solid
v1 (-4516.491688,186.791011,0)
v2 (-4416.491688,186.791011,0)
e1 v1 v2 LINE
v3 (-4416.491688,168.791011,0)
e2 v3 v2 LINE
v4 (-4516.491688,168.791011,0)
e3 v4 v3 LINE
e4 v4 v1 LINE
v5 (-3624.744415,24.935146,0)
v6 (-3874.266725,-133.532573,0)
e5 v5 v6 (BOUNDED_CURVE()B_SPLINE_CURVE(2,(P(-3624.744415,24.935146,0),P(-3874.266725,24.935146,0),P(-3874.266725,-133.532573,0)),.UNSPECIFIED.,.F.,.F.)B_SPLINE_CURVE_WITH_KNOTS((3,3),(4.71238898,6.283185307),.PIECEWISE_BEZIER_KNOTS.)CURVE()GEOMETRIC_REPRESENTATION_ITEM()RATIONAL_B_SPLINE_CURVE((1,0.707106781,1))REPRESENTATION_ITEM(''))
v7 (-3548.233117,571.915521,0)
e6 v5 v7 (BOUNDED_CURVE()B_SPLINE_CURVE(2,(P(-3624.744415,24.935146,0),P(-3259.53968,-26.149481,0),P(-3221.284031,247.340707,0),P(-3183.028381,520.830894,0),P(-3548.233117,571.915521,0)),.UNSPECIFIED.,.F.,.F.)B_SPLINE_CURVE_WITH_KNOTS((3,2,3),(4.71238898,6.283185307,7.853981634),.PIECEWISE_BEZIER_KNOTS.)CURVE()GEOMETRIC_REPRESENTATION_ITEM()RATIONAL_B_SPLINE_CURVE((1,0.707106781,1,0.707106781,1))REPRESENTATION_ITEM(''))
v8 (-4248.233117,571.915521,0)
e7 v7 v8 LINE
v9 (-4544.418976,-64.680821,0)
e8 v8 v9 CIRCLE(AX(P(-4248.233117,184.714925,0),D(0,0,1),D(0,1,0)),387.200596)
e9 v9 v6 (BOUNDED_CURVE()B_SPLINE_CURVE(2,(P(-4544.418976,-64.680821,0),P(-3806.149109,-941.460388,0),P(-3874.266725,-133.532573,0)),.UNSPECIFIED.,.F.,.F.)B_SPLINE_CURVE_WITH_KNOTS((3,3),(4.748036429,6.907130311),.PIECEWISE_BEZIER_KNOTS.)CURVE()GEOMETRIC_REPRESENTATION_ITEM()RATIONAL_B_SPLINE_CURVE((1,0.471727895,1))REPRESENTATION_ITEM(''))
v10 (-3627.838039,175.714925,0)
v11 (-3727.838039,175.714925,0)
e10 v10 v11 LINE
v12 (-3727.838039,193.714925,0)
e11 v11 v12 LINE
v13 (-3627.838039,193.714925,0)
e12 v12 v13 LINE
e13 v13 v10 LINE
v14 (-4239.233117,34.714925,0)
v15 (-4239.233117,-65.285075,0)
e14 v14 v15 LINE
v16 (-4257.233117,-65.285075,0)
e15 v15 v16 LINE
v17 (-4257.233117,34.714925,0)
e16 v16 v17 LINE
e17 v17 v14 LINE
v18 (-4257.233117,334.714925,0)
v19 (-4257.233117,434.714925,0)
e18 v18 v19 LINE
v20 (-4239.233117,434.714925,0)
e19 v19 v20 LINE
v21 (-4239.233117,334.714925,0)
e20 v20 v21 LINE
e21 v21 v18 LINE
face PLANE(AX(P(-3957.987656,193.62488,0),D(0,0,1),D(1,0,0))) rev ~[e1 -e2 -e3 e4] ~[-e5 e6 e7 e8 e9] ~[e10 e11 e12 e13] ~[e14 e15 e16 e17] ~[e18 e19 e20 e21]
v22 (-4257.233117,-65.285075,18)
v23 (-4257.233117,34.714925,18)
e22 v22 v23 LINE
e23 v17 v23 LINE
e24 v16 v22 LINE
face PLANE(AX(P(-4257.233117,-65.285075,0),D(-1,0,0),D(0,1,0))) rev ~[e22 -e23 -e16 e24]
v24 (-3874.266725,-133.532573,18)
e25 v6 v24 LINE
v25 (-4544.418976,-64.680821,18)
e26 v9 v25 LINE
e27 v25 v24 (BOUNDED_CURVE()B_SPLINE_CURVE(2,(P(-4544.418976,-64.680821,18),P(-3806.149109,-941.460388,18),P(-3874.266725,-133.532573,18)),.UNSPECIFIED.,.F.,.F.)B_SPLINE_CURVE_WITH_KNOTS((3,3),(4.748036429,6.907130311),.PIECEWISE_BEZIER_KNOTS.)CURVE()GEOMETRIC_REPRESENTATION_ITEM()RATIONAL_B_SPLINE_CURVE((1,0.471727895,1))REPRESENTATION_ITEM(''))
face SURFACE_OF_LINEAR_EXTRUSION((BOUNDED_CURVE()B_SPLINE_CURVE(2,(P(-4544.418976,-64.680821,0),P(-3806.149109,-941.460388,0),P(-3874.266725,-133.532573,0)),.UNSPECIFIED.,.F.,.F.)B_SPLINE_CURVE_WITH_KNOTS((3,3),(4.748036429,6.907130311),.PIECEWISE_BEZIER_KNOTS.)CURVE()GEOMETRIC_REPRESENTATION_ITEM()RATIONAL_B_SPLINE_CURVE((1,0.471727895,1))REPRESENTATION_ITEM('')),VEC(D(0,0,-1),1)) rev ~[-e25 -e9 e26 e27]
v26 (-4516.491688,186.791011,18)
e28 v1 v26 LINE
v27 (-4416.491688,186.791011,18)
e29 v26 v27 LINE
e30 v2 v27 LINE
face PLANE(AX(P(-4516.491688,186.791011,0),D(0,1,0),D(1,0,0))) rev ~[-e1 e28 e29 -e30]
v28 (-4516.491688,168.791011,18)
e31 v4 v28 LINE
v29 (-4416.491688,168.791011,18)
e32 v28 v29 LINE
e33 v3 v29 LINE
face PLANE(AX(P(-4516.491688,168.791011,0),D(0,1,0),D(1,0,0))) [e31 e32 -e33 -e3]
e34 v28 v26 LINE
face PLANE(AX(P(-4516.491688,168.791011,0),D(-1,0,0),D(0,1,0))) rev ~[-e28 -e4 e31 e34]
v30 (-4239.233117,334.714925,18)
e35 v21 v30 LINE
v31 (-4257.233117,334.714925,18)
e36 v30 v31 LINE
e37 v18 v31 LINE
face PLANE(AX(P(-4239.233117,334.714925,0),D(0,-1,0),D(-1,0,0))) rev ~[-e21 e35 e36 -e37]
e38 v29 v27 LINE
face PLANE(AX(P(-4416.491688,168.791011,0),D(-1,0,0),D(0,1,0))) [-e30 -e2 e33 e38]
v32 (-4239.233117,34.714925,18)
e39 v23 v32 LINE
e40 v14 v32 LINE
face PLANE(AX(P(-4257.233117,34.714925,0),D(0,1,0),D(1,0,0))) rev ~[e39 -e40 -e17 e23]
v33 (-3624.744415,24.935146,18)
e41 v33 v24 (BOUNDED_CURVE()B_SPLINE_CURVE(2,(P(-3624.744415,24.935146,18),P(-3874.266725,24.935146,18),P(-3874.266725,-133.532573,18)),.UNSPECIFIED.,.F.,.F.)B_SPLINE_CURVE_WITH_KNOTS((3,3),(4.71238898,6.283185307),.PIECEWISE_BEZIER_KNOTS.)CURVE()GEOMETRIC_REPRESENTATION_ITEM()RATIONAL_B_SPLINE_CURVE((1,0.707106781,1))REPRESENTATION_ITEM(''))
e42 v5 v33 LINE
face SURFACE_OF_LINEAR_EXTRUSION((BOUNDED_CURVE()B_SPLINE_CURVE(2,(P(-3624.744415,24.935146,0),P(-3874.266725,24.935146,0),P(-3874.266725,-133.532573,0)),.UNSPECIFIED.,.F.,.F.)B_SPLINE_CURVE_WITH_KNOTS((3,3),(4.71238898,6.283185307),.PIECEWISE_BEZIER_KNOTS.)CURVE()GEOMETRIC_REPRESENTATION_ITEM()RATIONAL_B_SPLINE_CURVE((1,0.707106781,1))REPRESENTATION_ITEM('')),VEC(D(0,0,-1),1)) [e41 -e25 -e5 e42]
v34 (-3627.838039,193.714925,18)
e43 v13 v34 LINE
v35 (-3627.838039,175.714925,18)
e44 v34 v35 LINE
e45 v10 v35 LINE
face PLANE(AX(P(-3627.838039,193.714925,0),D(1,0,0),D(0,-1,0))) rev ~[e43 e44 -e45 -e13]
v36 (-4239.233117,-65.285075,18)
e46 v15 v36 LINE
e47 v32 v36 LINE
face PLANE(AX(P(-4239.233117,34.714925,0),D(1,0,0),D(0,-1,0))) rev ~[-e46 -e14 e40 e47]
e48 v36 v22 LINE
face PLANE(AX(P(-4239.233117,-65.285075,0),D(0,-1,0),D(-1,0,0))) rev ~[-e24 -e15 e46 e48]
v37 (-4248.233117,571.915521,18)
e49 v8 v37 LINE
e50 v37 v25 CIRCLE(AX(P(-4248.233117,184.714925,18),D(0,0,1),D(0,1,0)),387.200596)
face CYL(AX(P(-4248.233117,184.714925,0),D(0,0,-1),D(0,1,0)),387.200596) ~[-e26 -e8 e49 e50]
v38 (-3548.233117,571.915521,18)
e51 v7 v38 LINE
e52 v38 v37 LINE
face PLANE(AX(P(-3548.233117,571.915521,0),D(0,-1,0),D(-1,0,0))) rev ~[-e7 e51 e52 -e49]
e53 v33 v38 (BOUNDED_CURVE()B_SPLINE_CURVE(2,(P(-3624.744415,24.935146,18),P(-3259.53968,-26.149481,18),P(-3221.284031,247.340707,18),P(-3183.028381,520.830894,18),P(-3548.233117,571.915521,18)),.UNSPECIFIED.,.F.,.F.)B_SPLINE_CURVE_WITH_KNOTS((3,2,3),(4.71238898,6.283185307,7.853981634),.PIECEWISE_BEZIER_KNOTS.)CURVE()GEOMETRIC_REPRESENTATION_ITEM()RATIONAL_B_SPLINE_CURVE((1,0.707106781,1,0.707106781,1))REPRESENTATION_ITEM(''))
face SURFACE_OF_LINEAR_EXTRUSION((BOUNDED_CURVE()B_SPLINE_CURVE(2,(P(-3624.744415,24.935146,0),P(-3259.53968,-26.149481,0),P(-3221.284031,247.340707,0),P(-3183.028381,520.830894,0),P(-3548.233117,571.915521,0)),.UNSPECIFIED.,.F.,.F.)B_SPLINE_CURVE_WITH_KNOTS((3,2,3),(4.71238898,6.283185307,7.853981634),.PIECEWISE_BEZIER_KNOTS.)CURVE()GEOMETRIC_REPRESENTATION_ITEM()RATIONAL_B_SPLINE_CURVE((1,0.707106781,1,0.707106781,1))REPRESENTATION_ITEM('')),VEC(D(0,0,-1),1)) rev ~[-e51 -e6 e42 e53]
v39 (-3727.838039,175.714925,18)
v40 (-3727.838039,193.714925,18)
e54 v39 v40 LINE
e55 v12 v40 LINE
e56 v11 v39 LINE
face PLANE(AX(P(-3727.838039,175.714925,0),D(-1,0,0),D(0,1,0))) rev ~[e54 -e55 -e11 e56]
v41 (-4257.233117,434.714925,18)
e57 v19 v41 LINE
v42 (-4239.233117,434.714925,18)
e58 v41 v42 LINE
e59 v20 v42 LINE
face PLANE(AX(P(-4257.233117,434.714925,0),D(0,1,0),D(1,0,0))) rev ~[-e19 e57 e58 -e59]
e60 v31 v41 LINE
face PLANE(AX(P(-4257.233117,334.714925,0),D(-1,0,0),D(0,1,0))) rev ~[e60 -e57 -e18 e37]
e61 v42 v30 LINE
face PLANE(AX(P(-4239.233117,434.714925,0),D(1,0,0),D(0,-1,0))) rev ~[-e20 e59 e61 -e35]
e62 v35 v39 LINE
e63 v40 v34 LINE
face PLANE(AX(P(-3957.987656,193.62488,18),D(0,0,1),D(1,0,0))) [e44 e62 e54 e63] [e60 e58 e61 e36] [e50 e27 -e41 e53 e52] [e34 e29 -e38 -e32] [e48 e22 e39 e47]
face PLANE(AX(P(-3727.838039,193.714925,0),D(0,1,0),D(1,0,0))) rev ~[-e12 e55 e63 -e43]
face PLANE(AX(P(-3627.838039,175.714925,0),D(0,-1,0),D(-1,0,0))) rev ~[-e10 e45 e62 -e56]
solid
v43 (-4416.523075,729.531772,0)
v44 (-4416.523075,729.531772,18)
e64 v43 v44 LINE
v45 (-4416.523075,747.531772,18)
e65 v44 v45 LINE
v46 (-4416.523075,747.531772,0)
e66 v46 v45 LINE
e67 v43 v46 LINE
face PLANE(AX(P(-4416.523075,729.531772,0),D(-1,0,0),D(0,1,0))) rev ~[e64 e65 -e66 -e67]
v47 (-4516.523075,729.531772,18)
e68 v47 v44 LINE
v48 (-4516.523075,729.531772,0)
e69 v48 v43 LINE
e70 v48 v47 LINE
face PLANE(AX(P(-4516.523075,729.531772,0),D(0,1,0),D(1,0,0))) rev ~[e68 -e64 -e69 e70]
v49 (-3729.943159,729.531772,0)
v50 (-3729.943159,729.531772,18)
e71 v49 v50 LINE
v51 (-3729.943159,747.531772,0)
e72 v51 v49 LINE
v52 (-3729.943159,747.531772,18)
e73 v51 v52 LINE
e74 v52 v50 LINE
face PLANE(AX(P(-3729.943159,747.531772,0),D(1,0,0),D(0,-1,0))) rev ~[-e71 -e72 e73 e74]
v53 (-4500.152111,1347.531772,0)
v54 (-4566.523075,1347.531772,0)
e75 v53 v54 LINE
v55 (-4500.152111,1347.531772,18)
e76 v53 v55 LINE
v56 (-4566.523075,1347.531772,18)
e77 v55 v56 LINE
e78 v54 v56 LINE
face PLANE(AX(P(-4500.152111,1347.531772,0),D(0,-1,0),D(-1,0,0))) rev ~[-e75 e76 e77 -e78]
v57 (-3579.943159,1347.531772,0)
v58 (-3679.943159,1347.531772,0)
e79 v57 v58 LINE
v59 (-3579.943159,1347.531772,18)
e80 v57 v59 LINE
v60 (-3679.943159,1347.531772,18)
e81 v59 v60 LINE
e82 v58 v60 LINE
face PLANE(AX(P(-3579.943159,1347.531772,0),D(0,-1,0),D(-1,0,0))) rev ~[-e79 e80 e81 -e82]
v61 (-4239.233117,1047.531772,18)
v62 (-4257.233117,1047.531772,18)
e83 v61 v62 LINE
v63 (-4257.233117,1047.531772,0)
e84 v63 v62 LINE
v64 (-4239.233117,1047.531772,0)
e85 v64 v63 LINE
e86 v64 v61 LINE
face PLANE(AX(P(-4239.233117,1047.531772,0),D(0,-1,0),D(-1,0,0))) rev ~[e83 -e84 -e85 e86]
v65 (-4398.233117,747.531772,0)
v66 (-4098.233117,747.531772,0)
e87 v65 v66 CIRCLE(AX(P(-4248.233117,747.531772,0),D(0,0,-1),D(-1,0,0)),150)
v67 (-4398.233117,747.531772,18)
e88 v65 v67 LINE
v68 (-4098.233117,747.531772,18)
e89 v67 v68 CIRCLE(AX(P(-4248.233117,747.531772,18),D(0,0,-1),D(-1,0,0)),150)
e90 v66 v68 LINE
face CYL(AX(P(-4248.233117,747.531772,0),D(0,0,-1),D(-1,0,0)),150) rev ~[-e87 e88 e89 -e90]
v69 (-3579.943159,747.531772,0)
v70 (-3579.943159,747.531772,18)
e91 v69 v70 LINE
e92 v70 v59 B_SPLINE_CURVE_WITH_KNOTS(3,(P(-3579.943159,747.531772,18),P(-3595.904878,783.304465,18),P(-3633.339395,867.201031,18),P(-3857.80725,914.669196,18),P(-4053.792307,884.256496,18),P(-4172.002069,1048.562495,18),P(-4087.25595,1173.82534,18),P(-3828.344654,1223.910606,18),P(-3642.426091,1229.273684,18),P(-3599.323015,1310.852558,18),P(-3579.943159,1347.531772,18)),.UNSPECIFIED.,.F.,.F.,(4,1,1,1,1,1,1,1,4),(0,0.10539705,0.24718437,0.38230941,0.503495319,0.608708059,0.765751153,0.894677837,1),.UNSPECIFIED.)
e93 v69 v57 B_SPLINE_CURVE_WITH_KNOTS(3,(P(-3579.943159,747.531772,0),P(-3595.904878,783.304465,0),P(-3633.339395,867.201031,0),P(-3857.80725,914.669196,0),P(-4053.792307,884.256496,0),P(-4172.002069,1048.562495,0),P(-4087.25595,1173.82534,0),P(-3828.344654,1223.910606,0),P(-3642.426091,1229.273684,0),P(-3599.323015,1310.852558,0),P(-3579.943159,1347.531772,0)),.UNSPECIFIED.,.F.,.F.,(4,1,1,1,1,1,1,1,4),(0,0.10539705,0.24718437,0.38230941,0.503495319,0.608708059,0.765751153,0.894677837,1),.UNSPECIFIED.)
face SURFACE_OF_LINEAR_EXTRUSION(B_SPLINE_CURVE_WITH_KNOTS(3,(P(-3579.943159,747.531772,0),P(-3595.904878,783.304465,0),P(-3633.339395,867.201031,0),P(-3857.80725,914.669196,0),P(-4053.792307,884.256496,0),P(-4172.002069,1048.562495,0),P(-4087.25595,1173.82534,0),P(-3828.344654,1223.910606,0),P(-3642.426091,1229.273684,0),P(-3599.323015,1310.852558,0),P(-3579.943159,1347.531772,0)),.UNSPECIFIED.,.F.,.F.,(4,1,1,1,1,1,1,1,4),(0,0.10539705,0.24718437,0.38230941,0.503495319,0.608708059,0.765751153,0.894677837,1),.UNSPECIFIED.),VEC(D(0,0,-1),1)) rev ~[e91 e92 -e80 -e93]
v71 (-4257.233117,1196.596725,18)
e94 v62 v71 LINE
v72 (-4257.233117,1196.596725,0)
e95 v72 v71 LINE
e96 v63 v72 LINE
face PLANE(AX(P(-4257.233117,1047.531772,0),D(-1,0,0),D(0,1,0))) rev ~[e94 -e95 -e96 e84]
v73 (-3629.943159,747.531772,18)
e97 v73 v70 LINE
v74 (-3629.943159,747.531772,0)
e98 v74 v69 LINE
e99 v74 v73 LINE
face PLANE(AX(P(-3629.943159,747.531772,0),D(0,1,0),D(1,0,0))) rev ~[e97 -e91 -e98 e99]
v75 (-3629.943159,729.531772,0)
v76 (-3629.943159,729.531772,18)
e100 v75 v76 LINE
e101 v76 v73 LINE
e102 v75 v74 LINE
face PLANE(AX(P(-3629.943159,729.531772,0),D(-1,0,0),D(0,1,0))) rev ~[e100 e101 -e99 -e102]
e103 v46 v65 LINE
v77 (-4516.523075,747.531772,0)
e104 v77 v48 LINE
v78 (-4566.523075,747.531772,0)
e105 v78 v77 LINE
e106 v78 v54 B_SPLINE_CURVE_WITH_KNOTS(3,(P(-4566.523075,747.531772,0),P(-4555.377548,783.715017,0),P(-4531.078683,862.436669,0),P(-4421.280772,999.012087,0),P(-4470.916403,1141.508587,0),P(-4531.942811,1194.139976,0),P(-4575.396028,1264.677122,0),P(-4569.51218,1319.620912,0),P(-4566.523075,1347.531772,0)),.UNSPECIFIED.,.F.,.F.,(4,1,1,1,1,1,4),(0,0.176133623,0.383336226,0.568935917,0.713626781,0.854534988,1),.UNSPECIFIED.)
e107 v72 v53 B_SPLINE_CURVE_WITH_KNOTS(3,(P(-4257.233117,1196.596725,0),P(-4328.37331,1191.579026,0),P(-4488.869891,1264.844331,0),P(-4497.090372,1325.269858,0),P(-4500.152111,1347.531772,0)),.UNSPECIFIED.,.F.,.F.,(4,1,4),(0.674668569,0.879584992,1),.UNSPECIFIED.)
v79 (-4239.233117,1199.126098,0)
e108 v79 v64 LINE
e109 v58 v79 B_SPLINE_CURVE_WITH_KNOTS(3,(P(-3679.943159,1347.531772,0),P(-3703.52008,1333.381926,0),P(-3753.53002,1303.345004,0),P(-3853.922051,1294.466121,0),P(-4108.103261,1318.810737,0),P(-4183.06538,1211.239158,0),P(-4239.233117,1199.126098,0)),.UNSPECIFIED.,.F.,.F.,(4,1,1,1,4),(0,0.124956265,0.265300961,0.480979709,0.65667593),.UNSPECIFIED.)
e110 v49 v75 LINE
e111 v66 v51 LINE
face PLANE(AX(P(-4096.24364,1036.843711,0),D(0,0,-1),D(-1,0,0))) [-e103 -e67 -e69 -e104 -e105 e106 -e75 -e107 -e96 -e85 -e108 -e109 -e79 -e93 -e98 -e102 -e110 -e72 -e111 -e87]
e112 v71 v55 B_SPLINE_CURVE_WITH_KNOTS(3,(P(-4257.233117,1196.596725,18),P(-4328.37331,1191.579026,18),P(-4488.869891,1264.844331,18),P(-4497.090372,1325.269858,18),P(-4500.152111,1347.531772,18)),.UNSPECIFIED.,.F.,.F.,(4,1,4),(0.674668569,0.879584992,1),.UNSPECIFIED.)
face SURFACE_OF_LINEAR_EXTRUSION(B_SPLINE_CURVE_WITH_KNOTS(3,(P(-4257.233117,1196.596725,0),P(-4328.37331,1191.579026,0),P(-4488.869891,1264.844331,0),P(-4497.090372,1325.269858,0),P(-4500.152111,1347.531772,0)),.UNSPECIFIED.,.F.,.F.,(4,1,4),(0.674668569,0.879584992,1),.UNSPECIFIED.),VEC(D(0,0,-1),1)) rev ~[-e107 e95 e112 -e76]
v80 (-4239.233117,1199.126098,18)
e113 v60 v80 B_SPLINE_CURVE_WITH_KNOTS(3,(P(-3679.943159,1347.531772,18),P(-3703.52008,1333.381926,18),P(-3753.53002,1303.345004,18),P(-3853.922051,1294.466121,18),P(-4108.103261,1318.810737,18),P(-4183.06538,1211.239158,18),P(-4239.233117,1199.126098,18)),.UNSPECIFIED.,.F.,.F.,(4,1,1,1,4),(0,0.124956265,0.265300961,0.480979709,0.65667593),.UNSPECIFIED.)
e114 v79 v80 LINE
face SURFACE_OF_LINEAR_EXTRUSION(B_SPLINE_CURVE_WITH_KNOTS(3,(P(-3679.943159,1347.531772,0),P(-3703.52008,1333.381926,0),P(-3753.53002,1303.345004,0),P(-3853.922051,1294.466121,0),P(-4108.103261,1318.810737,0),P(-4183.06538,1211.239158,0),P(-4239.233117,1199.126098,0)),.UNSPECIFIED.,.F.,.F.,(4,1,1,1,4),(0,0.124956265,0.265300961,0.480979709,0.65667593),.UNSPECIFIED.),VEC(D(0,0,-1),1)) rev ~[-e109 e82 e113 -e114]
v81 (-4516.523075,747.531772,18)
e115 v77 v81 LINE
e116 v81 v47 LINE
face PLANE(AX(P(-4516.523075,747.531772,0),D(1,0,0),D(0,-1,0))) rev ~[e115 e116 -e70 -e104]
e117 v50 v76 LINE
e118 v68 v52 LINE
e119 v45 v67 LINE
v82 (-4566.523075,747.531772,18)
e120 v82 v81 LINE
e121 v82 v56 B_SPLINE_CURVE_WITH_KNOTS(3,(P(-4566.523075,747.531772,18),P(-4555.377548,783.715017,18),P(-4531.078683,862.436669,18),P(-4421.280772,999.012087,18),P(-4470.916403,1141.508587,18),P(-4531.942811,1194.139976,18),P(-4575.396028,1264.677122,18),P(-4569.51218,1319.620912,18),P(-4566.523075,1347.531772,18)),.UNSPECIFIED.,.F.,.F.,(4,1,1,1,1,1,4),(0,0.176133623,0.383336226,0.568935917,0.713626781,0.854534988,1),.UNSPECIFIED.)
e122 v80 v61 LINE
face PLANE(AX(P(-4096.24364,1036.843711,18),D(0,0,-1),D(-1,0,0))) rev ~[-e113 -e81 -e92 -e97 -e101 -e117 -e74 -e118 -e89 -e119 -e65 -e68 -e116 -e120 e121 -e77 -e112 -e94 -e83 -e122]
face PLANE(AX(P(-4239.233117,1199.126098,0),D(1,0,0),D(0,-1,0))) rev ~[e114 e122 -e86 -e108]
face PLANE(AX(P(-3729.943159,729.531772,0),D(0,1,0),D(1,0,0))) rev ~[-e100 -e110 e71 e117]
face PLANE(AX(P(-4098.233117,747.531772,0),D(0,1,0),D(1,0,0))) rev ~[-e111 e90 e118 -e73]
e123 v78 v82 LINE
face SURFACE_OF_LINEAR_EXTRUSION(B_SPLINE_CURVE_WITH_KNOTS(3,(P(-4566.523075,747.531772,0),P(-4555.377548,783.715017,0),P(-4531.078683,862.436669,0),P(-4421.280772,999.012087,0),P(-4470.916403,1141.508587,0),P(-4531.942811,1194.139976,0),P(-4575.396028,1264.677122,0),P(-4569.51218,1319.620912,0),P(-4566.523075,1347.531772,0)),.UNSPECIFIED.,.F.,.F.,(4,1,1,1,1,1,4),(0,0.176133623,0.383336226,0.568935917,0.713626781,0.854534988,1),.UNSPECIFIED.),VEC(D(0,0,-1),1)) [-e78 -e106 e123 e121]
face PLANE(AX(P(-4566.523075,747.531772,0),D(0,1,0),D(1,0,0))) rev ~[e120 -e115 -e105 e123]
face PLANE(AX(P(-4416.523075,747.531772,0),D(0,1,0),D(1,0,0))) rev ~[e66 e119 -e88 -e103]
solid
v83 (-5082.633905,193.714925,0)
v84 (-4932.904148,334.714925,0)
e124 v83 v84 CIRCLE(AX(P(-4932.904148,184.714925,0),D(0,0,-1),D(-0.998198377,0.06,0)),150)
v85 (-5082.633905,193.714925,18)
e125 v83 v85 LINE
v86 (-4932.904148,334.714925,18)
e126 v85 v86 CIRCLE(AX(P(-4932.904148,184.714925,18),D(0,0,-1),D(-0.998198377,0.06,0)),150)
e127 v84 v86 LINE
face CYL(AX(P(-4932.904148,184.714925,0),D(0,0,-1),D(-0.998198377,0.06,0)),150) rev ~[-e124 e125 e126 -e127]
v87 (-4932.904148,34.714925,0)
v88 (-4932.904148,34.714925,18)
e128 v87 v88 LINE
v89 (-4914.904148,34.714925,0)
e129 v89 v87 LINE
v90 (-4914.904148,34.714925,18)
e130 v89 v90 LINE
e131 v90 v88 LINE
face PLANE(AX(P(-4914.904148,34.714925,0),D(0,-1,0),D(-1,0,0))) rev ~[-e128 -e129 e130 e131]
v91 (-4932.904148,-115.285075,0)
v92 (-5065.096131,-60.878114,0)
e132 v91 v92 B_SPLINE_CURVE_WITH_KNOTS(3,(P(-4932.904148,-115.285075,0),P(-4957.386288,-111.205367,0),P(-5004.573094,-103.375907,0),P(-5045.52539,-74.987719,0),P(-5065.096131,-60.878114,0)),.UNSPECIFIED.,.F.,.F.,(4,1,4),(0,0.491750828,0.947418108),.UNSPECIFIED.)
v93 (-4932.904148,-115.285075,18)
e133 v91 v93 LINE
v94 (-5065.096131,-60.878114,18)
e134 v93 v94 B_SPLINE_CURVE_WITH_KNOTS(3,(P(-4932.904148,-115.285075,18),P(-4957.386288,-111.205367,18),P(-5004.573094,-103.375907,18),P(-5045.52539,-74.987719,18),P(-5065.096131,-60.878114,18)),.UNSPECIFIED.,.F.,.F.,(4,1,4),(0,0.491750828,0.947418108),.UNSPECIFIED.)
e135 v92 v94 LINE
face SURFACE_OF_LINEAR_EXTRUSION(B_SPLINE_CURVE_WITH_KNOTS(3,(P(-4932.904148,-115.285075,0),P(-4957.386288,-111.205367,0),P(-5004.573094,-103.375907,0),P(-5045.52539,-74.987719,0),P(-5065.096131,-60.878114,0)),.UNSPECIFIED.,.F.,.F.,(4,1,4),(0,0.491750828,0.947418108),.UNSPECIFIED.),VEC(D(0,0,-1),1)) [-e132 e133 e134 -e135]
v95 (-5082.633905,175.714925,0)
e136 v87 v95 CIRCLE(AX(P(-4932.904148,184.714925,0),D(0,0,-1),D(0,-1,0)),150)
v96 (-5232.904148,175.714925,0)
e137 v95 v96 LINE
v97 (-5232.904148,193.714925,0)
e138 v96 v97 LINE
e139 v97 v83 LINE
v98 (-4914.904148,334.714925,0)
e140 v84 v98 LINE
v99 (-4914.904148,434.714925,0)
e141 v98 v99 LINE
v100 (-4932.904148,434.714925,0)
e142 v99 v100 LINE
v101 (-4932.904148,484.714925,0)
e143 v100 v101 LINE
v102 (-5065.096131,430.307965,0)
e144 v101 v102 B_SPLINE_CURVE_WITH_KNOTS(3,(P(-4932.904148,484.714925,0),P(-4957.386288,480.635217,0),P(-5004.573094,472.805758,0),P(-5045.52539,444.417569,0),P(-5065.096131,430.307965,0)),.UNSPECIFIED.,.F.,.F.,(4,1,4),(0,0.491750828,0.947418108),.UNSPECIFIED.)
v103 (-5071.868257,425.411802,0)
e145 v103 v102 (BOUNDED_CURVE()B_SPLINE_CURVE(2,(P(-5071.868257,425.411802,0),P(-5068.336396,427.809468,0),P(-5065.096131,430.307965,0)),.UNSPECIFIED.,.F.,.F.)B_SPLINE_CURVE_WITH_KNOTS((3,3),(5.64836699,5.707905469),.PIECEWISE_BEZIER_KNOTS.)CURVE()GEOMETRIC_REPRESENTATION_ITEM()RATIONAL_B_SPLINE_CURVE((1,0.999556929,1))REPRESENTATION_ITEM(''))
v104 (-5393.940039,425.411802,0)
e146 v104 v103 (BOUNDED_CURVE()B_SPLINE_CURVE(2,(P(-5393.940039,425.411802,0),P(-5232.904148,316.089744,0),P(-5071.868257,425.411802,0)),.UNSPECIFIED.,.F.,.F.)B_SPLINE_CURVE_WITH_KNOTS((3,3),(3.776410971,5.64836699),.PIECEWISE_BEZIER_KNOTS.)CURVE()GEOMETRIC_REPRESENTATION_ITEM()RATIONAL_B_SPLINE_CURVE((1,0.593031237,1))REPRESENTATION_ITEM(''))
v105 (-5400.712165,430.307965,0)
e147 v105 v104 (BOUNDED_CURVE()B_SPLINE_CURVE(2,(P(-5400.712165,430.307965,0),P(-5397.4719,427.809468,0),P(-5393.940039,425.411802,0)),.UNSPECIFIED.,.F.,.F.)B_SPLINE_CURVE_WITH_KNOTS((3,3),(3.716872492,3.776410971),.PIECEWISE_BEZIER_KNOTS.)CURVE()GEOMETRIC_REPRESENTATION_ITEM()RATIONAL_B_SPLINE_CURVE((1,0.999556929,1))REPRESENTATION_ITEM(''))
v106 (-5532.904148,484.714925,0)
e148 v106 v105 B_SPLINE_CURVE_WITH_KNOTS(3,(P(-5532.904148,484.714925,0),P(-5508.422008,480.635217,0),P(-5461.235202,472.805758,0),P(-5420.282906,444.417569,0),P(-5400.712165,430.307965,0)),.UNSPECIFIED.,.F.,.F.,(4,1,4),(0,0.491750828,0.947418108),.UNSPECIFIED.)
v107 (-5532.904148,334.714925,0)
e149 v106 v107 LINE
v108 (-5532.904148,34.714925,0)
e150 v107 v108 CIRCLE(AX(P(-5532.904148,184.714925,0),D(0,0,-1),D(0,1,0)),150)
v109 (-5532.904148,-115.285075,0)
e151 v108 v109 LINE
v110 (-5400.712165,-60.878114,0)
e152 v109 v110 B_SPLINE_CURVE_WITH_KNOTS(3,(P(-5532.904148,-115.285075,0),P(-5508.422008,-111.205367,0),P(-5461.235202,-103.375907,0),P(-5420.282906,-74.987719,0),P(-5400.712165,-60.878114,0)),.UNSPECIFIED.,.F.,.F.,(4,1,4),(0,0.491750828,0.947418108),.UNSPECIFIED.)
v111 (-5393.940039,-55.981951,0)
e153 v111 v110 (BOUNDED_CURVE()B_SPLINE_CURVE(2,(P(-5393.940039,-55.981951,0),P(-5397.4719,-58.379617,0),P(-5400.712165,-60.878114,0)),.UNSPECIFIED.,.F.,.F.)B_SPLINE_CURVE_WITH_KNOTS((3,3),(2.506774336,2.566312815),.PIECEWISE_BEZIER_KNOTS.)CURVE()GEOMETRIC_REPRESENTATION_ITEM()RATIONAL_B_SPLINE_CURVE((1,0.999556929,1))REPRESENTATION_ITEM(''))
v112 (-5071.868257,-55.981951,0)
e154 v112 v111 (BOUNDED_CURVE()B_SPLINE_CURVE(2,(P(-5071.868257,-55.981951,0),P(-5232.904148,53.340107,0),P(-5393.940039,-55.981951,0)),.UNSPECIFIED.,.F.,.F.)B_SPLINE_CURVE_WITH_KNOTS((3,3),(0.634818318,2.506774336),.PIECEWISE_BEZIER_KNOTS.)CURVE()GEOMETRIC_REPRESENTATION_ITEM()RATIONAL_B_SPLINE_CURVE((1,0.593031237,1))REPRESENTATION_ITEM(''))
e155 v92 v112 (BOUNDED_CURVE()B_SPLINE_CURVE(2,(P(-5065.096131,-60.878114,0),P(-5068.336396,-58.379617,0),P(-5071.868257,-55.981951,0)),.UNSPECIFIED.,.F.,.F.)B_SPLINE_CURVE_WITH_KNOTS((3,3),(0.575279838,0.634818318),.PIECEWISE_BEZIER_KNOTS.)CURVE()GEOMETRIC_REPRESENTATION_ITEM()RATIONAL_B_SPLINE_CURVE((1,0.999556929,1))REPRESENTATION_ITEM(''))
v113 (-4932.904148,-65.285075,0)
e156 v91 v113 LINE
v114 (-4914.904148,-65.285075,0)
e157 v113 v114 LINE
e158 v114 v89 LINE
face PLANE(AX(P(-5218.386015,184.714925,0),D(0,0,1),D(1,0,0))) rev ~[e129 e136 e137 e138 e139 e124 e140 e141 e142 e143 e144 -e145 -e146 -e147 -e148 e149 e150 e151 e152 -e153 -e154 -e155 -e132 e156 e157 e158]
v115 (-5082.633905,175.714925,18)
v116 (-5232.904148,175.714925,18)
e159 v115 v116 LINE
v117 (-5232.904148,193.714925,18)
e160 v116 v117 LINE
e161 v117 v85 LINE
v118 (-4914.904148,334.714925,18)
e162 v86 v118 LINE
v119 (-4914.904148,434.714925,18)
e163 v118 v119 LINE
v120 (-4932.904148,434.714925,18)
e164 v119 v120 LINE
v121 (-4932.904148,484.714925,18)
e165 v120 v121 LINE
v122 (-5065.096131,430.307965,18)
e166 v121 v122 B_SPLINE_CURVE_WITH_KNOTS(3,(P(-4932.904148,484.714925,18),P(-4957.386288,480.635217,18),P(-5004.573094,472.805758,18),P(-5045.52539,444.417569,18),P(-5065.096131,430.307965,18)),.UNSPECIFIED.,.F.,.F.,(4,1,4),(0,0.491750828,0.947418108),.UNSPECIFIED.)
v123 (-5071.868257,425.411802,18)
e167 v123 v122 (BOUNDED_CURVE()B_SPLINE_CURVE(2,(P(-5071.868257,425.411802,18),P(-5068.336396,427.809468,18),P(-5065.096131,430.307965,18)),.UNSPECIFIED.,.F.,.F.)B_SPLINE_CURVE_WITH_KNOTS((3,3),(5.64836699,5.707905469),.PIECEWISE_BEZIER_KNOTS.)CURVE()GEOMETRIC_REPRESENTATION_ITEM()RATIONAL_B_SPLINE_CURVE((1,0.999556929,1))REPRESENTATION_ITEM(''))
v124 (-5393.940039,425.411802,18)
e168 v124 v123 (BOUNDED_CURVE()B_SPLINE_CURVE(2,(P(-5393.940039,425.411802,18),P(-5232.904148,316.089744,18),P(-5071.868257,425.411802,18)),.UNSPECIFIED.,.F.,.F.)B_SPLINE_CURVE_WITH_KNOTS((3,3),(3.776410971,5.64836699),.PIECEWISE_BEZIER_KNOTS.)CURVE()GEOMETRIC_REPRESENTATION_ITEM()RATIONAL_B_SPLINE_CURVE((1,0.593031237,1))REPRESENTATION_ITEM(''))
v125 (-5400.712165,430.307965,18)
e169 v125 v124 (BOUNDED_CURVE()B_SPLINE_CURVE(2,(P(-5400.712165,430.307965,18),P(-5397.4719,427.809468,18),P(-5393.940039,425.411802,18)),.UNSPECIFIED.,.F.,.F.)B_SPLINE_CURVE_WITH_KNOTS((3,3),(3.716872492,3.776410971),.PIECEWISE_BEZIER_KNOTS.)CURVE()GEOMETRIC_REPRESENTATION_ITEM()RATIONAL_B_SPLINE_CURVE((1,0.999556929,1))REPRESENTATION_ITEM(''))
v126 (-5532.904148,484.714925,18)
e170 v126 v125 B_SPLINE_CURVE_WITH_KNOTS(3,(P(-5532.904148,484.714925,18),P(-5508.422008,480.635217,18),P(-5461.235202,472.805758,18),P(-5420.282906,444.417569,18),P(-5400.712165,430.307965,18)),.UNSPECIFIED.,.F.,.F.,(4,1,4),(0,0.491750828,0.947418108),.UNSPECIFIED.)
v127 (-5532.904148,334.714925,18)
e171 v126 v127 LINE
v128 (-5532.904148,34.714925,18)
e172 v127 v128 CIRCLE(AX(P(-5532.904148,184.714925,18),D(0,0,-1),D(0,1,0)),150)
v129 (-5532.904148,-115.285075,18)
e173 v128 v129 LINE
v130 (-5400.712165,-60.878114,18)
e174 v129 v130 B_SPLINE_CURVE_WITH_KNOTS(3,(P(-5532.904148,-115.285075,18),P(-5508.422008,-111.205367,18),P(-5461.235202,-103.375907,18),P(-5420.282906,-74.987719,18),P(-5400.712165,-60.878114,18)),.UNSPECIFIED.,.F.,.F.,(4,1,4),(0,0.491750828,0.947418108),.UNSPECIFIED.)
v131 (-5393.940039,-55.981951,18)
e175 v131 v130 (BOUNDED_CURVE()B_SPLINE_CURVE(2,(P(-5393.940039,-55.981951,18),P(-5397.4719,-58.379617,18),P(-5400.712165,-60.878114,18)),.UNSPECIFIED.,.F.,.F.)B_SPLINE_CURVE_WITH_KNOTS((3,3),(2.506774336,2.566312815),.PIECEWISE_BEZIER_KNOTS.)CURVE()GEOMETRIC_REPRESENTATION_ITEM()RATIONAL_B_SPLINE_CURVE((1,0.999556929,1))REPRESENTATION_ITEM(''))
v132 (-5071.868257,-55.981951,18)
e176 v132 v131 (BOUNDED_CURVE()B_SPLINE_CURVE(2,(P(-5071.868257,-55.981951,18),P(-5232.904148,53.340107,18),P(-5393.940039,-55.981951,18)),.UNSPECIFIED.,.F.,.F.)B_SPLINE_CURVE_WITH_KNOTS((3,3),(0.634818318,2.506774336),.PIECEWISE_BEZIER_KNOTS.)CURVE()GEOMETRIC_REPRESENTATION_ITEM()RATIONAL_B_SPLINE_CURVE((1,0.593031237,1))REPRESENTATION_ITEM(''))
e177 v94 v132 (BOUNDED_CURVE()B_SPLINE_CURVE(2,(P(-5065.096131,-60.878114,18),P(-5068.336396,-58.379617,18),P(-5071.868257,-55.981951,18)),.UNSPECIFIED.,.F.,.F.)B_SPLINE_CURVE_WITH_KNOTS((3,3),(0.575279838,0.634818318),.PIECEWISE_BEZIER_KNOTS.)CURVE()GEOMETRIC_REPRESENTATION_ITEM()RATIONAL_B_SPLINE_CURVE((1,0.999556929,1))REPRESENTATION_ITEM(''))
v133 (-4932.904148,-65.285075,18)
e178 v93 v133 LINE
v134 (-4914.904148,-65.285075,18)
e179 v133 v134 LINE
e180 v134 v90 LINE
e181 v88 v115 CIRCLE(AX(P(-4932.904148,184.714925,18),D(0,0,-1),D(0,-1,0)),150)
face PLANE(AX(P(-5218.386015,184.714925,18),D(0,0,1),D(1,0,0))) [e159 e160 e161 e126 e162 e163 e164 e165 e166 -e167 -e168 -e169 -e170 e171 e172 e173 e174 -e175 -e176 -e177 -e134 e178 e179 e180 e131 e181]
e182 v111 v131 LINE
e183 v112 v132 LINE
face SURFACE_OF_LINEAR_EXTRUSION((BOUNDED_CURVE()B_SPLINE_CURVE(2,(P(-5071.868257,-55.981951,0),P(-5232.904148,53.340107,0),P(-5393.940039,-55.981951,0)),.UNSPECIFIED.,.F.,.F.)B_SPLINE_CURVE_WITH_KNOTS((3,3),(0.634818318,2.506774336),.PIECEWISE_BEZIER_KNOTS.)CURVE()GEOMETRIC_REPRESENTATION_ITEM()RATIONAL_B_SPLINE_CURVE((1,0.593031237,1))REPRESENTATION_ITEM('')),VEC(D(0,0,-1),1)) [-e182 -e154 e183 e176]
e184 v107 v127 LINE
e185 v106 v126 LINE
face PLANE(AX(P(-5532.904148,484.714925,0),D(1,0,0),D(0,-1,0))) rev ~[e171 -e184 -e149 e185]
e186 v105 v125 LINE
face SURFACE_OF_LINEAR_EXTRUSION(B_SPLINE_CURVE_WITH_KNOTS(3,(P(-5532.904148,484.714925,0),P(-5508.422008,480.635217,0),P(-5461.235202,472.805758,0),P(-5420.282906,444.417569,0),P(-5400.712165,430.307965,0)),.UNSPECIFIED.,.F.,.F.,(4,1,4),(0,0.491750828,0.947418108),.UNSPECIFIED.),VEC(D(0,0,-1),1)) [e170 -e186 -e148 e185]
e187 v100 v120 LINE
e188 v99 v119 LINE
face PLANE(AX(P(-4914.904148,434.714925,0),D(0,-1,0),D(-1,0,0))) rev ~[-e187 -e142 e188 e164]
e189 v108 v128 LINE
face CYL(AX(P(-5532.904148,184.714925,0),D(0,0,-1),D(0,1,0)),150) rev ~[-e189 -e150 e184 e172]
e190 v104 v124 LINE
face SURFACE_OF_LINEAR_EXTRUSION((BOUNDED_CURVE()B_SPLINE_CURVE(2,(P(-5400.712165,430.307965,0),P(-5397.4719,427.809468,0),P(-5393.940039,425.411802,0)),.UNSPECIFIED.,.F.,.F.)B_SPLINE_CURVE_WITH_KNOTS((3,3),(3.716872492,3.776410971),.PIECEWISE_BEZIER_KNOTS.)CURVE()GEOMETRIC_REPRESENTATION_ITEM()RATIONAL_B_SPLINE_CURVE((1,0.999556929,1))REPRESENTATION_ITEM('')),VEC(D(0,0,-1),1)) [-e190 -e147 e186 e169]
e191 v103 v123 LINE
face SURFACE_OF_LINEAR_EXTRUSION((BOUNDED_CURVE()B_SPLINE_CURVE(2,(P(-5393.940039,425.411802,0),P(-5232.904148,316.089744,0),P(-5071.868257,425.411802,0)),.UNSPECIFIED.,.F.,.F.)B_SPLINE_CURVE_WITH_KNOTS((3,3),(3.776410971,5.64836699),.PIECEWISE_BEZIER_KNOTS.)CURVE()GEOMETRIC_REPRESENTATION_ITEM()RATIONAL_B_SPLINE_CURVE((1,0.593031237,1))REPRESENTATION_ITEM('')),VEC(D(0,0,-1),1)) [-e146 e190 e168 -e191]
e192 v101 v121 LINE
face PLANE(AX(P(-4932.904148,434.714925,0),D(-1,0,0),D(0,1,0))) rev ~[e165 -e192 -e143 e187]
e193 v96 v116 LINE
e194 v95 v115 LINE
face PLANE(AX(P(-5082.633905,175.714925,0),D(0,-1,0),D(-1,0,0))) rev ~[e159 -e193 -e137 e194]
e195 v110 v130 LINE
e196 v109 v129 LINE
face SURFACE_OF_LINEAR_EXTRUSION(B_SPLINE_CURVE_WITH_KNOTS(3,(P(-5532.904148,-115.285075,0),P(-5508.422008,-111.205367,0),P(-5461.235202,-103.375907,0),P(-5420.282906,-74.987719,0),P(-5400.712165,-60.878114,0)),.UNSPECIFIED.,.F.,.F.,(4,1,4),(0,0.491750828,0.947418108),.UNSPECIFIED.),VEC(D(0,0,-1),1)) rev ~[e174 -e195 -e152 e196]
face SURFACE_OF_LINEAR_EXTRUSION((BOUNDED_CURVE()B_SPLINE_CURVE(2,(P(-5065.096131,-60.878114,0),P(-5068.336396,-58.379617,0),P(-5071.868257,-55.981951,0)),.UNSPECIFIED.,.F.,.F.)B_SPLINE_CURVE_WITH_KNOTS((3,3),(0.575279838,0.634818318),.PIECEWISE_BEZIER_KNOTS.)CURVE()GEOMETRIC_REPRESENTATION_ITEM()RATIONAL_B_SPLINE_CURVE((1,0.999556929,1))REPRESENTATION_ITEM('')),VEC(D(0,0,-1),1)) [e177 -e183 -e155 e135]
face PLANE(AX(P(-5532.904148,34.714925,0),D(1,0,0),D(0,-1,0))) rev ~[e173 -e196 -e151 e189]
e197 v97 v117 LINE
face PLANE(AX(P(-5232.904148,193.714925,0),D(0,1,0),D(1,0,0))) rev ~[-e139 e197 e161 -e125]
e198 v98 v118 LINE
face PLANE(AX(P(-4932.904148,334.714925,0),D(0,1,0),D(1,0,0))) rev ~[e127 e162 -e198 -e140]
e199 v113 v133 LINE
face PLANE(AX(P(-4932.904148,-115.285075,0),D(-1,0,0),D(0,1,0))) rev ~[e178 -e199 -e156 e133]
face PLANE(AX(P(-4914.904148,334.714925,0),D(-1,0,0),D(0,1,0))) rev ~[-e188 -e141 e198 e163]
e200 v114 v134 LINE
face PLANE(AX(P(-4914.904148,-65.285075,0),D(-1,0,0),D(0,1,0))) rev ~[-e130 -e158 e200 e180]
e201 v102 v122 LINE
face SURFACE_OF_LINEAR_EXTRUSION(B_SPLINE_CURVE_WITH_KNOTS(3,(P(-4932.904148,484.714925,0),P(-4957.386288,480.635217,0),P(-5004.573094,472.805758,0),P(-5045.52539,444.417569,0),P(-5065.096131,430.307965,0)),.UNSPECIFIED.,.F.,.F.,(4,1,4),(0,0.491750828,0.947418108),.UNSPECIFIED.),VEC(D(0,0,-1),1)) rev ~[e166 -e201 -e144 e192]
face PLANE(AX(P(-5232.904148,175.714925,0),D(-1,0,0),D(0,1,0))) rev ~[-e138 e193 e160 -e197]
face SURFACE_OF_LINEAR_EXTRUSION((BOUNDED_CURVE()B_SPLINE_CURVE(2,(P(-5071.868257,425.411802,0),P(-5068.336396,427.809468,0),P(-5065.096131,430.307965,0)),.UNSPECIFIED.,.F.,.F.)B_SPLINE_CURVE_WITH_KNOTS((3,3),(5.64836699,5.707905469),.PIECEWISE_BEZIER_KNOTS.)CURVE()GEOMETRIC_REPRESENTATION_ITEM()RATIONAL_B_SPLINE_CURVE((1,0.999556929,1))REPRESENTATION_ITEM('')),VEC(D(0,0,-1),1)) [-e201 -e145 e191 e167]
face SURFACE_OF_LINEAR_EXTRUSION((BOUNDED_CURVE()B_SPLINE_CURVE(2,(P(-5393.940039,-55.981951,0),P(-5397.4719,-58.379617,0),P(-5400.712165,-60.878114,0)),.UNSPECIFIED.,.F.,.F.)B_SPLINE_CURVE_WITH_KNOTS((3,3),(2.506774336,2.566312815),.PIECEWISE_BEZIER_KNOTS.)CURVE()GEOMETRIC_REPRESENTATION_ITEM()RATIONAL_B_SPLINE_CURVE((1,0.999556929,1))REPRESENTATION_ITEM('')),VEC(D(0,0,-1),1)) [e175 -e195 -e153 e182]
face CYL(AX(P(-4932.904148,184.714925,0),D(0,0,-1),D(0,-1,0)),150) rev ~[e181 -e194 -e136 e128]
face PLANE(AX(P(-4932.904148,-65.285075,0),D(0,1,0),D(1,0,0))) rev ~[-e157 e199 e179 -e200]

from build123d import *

# Parameters (mm, degrees)
F1_DEPTH = 18
F0_W     = 100
F0_H     = 18
F2_DEPTH = 18


with BuildPart() as f1:
    # F0 (on Top) → F1 (new body)
    with BuildSketch(Plane.XY):
        with BuildLine():
            Line((-4932.9041481018, 434.7149252892), (-4932.9041481018, 484.7149252892))
            add(Edge.make_bspline(
                [(-4932.9041481018, 484.7149252892), (-4957.3862881872, 480.6352171026), (-5004.5730941704, 472.8057575498), (-5045.5253901361, 444.417569172), (-5065.0961313389, 430.307964544)],
                knots=[0, 0, 0, 0, 0.4917508276, 0.9474181081, 0.9474181081, 0.9474181081, 0.9474181081], degree=3))
            add(Edge.make_bspline(
                [(-5071.8682574768, 425.4118015717), (-5068.3363962871, 427.8094679027), (-5065.0961313389, 430.307964544)],
                knots=[5.6483669896, 5.6483669896, 5.6483669896, 5.707905469, 5.707905469, 5.707905469], degree=2, weights=[1, 0.9995569289, 1]))
            add(Edge.make_bspline(
                [(-5393.9400387268, 425.4118015717), (-5232.9041481018, 316.0897437955), (-5071.8682574768, 425.4118015717)],
                knots=[3.7764109711, 3.7764109711, 3.7764109711, 5.6483669896, 5.6483669896, 5.6483669896], degree=2, weights=[1, 0.5930312372, 1]))
            add(Edge.make_bspline(
                [(-5400.7121648649, 430.3079645441), (-5397.4718999166, 427.8094679027), (-5393.9400387268, 425.4118015717)],
                knots=[3.7168724918, 3.7168724918, 3.7168724918, 3.7764109711, 3.7764109711, 3.7764109711], degree=2, weights=[1, 0.9995569289, 1]))
            add(Edge.make_bspline(
                [(-5532.9041481018, 484.7149252892), (-5508.4220080164, 480.6352171026), (-5461.2352020332, 472.8057575499), (-5420.2829060675, 444.4175691721), (-5400.7121648649, 430.3079645441)],
                knots=[0, 0, 0, 0, 0.4917508276, 0.9474181081, 0.9474181081, 0.9474181081, 0.9474181081], degree=3))
            Line((-5532.9041481018, 484.7149252892), (-5532.9041481018, 334.7149252892))
            ThreePointArc((-5532.9041481018, 334.7149252892), (-5382.9041481018, 184.7149252892), (-5532.9041481018, 34.7149252892))
            Line((-5532.9041481018, 34.7149252892), (-5532.9041481018, -115.2850747108))
            add(Edge.make_bspline(
                [(-5532.9041481018, -115.2850747108), (-5508.4220080164, -111.2053665243), (-5461.2352020332, -103.3759069716), (-5420.2829060675, -74.9877185938), (-5400.7121648649, -60.8781139658)],
                knots=[0, 0, 0, 0, 0.4917508276, 0.9474181081, 0.9474181081, 0.9474181081, 0.9474181081], degree=3))
            add(Edge.make_bspline(
                [(-5393.9400387268, -55.9819509934), (-5397.4718999166, -58.3796173244), (-5400.7121648649, -60.8781139658)],
                knots=[2.506774336, 2.506774336, 2.506774336, 2.5663128154, 2.5663128154, 2.5663128154], degree=2, weights=[1, 0.9995569289, 1]))
            add(Edge.make_bspline(
                [(-5071.8682574768, -55.9819509934), (-5232.9041481018, 53.3401067828), (-5393.9400387268, -55.9819509934)],
                knots=[0.6348183176, 0.6348183176, 0.6348183176, 2.506774336, 2.506774336, 2.506774336], degree=2, weights=[1, 0.5930312372, 1]))
            add(Edge.make_bspline(
                [(-5065.0961313389, -60.8781139657), (-5068.3363962871, -58.3796173244), (-5071.8682574768, -55.9819509934)],
                knots=[0.5752798382, 0.5752798382, 0.5752798382, 0.6348183176, 0.6348183176, 0.6348183176], degree=2, weights=[1, 0.9995569289, 1]))
            add(Edge.make_bspline(
                [(-4932.9041481018, -115.2850747108), (-4957.3862881872, -111.2053665243), (-5004.5730941704, -103.3759069715), (-5045.5253901361, -74.9877185937), (-5065.0961313389, -60.8781139657)],
                knots=[0, 0, 0, 0, 0.4917508276, 0.9474181081, 0.9474181081, 0.9474181081, 0.9474181081], degree=3))
            Line((-4932.9041481018, -115.2850747108), (-4932.9041481018, -65.2850747108))
            Line((-4932.9041481018, -65.2850747108), (-4914.9041481018, -65.2850747108))
            Line((-4914.9041481018, -65.2850747108), (-4914.9041481018, 34.7149252892))
            Line((-4914.9041481018, 34.7149252892), (-4932.9041481018, 34.7149252892))
            ThreePointArc((-4932.9041481018, 34.7149252892), (-5035.7389671078, 75.5132769499), (-5082.6339046634, 175.7149252892))
            Line((-5082.6339046634, 175.7149252892), (-5232.9041481018, 175.7149252892))
            Line((-5232.9041481018, 175.7149252892), (-5232.9041481018, 193.7149252892))
            Line((-5232.9041481018, 193.7149252892), (-5082.6339046634, 193.7149252892))
            ThreePointArc((-5082.6339046634, 193.7149252892), (-5035.7389671078, 293.9165736284), (-4932.9041481018, 334.7149252892))
            Line((-4932.9041481018, 334.7149252892), (-4914.9041481018, 334.7149252892))
            Line((-4914.9041481018, 334.7149252892), (-4914.9041481018, 434.7149252892))
            Line((-4914.9041481018, 434.7149252892), (-4932.9041481018, 434.7149252892))
        make_face()
    extrude(amount=F1_DEPTH)


with BuildPart() as f2:
    # F0 (on Top) → F2 (new body)
    with BuildSketch(Plane.XY):
        with BuildLine():
            Line((-3548.2331168536, 571.9155214412), (-3948.2331168536, 571.9155214412))
            Line((-3948.2331168536, 571.9155214412), (-4248.2331168536, 571.9155214412))
            ThreePointArc((-4248.2331168536, 571.9155214412), (-4599.2961336264, 348.0521834849), (-4544.4189759842, -64.68082149))
            add(Edge.make_bspline(
                [(-4544.4189759842, -64.68082149), (-3806.1491091963, -941.4603880575), (-3874.266724668, -133.5325733298)],
                knots=[4.748036429, 4.748036429, 4.748036429, 6.9071303105, 6.9071303105, 6.9071303105], degree=2, weights=[1, 0.4717278949, 1]))
            add(Edge.make_bspline(
                [(-3624.7444152832, 24.9351459475), (-3874.266724668, 24.9351459475), (-3874.266724668, -133.5325733298)],
                knots=[4.7123889804, 4.7123889804, 4.7123889804, 6.2831853072, 6.2831853072, 6.2831853072], degree=2, weights=[1, 0.7071067812, 1]))
            add(Edge.make_bspline(
                [(-3624.7444152832, 24.9351459475), (-3259.539679719, -26.149481148), (-3221.2840305042, 247.3407065989), (-3183.0283812894, 520.8308943457), (-3548.2331168536, 571.9155214412)],
                knots=[4.7123889804, 4.7123889804, 4.7123889804, 6.2831853072, 6.2831853072, 7.853981634, 7.853981634, 7.853981634], degree=2, weights=[1, 0.7071067812, 1, 0.7071067812, 1]))
        make_face()
        with Locations((-4466.4916884784, 177.7910113335)):
            Rectangle(F0_W, F0_H, mode=Mode.SUBTRACT)
        Polygon((-4248.2331168536, 34.7149252892), (-4239.2331168536, 34.7149252892), (-4239.2331168536, -65.2850747108), (-4257.2331168536, -65.2850747108), (-4257.2331168536, 34.7149252892), align=None, mode=Mode.SUBTRACT)
        Polygon((-4239.2331168536, 334.7149252892), (-4248.2331168536, 334.7149252892), (-4257.2331168536, 334.7149252892), (-4257.2331168536, 434.7149252892), (-4239.2331168536, 434.7149252892), align=None, mode=Mode.SUBTRACT)
        Polygon((-3727.8380393982, 193.7149252892), (-3677.8380393982, 193.7149252892), (-3627.8380393982, 193.7149252892), (-3627.8380393982, 175.7149252892), (-3727.8380393982, 175.7149252892), align=None, mode=Mode.SUBTRACT)
    extrude(amount=F2_DEPTH)


with BuildPart() as f2b:
    # F0 (on Top) → F2, piece 2 (new body)
    with BuildSketch(Plane.XY):
        with BuildLine():
            add(Edge.make_bspline(
                [(-4566.5230751038, 747.5317716599), (-4555.3775478782, 783.7150171745), (-4531.0786828323, 862.4366688879), (-4421.2807720709, 999.0120870117), (-4470.9164025371, 1141.5085868579), (-4531.9428106707, 1194.1399761569), (-4575.3960282937, 1264.6771220001), (-4569.5121800288, 1319.6209117416), (-4566.5230751038, 1347.5317716599)],
                knots=[0, 0, 0, 0, 0.1761336227, 0.3833362265, 0.5689359166, 0.7136267812, 0.854534988, 1, 1, 1, 1], degree=3))
            Line((-4566.5230751038, 747.5317716599), (-4516.5230751038, 747.5317716599))
            Line((-4516.5230751038, 747.5317716599), (-4516.5230751038, 729.5317716599))
            Line((-4516.5230751038, 729.5317716599), (-4416.5230751038, 729.5317716598))
            Line((-4416.5230751038, 729.5317716599), (-4416.5230751038, 747.5317716599))
            Line((-4416.5230751038, 747.5317716599), (-4398.2331168536, 747.5317716599))
            ThreePointArc((-4398.2331168536, 747.5317716599), (-4248.2331168536, 897.5317716599), (-4098.2331168536, 747.5317716599))
            Line((-4098.2331168536, 747.5317716599), (-3883.9659690857, 747.5317716599))
            Line((-3883.9659690857, 747.5317716599), (-3729.9431586035, 747.5317716599))
            Line((-3729.9431586035, 747.5317716599), (-3729.9431586035, 729.5317716599))
            Line((-3729.9431586035, 729.5317716599), (-3629.9431586035, 729.5317716599))
            Line((-3629.9431586035, 729.5317716599), (-3629.9431586035, 747.5317716599))
            Line((-3629.9431586035, 747.5317716599), (-3579.9431586035, 747.5317716599))
            add(Edge.make_bspline(
                [(-3579.9431586035, 747.5317716599), (-3595.9048783931, 783.3044646973), (-3633.3393953583, 867.2010311107), (-3857.8072503396, 914.6691964212), (-4053.792306621, 884.2564964013), (-4172.0020688698, 1048.5624947572), (-4087.2559497834, 1173.8253398122), (-3828.3446539192, 1223.9106055282), (-3642.4260906566, 1229.2736844181), (-3599.3230153489, 1310.8525584023), (-3579.9431586035, 1347.5317716599)],
                knots=[0, 0, 0, 0, 0.1053970499, 0.2471843702, 0.3823094102, 0.5034953188, 0.6087080591, 0.7657511528, 0.8946778375, 1, 1, 1, 1], degree=3))
            Line((-3579.9431586035, 1347.5317716599), (-3679.9431586035, 1347.5317716599))
            add(Edge.make_bspline(
                [(-3679.9431586035, 1347.5317716599), (-3703.5200797541, 1333.3819260991), (-3753.53002023, 1303.3450039858), (-3853.9220512382, 1294.4661210208), (-4108.1032613685, 1318.810736987), (-4183.0653798469, 1211.239158108), (-4239.2331168537, 1199.1260980136)],
                knots=[0, 0, 0, 0, 0.1249562655, 0.2653009608, 0.4809797093, 0.6566759302, 0.6566759302, 0.6566759302, 0.6566759302], degree=3))
            Line((-4239.2331168537, 1199.1260980136), (-4239.2331168539, 1047.5317716599))
            Line((-4239.2331168539, 1047.5317716599), (-4248.2331168536, 1047.5317716599))
            Line((-4248.2331168536, 1047.5317716599), (-4257.2331168536, 1047.5317716599))
            Line((-4257.2331168536, 1047.5317716599), (-4257.2331168536, 1196.5967247521))
            add(Edge.make_bspline(
                [(-4257.2331168536, 1196.596724752), (-4328.3733104594, 1191.5790262296), (-4488.8698910102, 1264.8443307023), (-4497.0903715429, 1325.2698579299), (-4500.1521110535, 1347.5317716599)],
                knots=[0.6746685686, 0.6746685686, 0.6746685686, 0.6746685686, 0.8795849917, 1, 1, 1, 1], degree=3))
            Line((-4500.1521110535, 1347.5317716599), (-4566.5230751038, 1347.5317716599))
        make_face()
    extrude(amount=F2_DEPTH)


solid = Compound([f1.part, f2.part, f2b.part])
